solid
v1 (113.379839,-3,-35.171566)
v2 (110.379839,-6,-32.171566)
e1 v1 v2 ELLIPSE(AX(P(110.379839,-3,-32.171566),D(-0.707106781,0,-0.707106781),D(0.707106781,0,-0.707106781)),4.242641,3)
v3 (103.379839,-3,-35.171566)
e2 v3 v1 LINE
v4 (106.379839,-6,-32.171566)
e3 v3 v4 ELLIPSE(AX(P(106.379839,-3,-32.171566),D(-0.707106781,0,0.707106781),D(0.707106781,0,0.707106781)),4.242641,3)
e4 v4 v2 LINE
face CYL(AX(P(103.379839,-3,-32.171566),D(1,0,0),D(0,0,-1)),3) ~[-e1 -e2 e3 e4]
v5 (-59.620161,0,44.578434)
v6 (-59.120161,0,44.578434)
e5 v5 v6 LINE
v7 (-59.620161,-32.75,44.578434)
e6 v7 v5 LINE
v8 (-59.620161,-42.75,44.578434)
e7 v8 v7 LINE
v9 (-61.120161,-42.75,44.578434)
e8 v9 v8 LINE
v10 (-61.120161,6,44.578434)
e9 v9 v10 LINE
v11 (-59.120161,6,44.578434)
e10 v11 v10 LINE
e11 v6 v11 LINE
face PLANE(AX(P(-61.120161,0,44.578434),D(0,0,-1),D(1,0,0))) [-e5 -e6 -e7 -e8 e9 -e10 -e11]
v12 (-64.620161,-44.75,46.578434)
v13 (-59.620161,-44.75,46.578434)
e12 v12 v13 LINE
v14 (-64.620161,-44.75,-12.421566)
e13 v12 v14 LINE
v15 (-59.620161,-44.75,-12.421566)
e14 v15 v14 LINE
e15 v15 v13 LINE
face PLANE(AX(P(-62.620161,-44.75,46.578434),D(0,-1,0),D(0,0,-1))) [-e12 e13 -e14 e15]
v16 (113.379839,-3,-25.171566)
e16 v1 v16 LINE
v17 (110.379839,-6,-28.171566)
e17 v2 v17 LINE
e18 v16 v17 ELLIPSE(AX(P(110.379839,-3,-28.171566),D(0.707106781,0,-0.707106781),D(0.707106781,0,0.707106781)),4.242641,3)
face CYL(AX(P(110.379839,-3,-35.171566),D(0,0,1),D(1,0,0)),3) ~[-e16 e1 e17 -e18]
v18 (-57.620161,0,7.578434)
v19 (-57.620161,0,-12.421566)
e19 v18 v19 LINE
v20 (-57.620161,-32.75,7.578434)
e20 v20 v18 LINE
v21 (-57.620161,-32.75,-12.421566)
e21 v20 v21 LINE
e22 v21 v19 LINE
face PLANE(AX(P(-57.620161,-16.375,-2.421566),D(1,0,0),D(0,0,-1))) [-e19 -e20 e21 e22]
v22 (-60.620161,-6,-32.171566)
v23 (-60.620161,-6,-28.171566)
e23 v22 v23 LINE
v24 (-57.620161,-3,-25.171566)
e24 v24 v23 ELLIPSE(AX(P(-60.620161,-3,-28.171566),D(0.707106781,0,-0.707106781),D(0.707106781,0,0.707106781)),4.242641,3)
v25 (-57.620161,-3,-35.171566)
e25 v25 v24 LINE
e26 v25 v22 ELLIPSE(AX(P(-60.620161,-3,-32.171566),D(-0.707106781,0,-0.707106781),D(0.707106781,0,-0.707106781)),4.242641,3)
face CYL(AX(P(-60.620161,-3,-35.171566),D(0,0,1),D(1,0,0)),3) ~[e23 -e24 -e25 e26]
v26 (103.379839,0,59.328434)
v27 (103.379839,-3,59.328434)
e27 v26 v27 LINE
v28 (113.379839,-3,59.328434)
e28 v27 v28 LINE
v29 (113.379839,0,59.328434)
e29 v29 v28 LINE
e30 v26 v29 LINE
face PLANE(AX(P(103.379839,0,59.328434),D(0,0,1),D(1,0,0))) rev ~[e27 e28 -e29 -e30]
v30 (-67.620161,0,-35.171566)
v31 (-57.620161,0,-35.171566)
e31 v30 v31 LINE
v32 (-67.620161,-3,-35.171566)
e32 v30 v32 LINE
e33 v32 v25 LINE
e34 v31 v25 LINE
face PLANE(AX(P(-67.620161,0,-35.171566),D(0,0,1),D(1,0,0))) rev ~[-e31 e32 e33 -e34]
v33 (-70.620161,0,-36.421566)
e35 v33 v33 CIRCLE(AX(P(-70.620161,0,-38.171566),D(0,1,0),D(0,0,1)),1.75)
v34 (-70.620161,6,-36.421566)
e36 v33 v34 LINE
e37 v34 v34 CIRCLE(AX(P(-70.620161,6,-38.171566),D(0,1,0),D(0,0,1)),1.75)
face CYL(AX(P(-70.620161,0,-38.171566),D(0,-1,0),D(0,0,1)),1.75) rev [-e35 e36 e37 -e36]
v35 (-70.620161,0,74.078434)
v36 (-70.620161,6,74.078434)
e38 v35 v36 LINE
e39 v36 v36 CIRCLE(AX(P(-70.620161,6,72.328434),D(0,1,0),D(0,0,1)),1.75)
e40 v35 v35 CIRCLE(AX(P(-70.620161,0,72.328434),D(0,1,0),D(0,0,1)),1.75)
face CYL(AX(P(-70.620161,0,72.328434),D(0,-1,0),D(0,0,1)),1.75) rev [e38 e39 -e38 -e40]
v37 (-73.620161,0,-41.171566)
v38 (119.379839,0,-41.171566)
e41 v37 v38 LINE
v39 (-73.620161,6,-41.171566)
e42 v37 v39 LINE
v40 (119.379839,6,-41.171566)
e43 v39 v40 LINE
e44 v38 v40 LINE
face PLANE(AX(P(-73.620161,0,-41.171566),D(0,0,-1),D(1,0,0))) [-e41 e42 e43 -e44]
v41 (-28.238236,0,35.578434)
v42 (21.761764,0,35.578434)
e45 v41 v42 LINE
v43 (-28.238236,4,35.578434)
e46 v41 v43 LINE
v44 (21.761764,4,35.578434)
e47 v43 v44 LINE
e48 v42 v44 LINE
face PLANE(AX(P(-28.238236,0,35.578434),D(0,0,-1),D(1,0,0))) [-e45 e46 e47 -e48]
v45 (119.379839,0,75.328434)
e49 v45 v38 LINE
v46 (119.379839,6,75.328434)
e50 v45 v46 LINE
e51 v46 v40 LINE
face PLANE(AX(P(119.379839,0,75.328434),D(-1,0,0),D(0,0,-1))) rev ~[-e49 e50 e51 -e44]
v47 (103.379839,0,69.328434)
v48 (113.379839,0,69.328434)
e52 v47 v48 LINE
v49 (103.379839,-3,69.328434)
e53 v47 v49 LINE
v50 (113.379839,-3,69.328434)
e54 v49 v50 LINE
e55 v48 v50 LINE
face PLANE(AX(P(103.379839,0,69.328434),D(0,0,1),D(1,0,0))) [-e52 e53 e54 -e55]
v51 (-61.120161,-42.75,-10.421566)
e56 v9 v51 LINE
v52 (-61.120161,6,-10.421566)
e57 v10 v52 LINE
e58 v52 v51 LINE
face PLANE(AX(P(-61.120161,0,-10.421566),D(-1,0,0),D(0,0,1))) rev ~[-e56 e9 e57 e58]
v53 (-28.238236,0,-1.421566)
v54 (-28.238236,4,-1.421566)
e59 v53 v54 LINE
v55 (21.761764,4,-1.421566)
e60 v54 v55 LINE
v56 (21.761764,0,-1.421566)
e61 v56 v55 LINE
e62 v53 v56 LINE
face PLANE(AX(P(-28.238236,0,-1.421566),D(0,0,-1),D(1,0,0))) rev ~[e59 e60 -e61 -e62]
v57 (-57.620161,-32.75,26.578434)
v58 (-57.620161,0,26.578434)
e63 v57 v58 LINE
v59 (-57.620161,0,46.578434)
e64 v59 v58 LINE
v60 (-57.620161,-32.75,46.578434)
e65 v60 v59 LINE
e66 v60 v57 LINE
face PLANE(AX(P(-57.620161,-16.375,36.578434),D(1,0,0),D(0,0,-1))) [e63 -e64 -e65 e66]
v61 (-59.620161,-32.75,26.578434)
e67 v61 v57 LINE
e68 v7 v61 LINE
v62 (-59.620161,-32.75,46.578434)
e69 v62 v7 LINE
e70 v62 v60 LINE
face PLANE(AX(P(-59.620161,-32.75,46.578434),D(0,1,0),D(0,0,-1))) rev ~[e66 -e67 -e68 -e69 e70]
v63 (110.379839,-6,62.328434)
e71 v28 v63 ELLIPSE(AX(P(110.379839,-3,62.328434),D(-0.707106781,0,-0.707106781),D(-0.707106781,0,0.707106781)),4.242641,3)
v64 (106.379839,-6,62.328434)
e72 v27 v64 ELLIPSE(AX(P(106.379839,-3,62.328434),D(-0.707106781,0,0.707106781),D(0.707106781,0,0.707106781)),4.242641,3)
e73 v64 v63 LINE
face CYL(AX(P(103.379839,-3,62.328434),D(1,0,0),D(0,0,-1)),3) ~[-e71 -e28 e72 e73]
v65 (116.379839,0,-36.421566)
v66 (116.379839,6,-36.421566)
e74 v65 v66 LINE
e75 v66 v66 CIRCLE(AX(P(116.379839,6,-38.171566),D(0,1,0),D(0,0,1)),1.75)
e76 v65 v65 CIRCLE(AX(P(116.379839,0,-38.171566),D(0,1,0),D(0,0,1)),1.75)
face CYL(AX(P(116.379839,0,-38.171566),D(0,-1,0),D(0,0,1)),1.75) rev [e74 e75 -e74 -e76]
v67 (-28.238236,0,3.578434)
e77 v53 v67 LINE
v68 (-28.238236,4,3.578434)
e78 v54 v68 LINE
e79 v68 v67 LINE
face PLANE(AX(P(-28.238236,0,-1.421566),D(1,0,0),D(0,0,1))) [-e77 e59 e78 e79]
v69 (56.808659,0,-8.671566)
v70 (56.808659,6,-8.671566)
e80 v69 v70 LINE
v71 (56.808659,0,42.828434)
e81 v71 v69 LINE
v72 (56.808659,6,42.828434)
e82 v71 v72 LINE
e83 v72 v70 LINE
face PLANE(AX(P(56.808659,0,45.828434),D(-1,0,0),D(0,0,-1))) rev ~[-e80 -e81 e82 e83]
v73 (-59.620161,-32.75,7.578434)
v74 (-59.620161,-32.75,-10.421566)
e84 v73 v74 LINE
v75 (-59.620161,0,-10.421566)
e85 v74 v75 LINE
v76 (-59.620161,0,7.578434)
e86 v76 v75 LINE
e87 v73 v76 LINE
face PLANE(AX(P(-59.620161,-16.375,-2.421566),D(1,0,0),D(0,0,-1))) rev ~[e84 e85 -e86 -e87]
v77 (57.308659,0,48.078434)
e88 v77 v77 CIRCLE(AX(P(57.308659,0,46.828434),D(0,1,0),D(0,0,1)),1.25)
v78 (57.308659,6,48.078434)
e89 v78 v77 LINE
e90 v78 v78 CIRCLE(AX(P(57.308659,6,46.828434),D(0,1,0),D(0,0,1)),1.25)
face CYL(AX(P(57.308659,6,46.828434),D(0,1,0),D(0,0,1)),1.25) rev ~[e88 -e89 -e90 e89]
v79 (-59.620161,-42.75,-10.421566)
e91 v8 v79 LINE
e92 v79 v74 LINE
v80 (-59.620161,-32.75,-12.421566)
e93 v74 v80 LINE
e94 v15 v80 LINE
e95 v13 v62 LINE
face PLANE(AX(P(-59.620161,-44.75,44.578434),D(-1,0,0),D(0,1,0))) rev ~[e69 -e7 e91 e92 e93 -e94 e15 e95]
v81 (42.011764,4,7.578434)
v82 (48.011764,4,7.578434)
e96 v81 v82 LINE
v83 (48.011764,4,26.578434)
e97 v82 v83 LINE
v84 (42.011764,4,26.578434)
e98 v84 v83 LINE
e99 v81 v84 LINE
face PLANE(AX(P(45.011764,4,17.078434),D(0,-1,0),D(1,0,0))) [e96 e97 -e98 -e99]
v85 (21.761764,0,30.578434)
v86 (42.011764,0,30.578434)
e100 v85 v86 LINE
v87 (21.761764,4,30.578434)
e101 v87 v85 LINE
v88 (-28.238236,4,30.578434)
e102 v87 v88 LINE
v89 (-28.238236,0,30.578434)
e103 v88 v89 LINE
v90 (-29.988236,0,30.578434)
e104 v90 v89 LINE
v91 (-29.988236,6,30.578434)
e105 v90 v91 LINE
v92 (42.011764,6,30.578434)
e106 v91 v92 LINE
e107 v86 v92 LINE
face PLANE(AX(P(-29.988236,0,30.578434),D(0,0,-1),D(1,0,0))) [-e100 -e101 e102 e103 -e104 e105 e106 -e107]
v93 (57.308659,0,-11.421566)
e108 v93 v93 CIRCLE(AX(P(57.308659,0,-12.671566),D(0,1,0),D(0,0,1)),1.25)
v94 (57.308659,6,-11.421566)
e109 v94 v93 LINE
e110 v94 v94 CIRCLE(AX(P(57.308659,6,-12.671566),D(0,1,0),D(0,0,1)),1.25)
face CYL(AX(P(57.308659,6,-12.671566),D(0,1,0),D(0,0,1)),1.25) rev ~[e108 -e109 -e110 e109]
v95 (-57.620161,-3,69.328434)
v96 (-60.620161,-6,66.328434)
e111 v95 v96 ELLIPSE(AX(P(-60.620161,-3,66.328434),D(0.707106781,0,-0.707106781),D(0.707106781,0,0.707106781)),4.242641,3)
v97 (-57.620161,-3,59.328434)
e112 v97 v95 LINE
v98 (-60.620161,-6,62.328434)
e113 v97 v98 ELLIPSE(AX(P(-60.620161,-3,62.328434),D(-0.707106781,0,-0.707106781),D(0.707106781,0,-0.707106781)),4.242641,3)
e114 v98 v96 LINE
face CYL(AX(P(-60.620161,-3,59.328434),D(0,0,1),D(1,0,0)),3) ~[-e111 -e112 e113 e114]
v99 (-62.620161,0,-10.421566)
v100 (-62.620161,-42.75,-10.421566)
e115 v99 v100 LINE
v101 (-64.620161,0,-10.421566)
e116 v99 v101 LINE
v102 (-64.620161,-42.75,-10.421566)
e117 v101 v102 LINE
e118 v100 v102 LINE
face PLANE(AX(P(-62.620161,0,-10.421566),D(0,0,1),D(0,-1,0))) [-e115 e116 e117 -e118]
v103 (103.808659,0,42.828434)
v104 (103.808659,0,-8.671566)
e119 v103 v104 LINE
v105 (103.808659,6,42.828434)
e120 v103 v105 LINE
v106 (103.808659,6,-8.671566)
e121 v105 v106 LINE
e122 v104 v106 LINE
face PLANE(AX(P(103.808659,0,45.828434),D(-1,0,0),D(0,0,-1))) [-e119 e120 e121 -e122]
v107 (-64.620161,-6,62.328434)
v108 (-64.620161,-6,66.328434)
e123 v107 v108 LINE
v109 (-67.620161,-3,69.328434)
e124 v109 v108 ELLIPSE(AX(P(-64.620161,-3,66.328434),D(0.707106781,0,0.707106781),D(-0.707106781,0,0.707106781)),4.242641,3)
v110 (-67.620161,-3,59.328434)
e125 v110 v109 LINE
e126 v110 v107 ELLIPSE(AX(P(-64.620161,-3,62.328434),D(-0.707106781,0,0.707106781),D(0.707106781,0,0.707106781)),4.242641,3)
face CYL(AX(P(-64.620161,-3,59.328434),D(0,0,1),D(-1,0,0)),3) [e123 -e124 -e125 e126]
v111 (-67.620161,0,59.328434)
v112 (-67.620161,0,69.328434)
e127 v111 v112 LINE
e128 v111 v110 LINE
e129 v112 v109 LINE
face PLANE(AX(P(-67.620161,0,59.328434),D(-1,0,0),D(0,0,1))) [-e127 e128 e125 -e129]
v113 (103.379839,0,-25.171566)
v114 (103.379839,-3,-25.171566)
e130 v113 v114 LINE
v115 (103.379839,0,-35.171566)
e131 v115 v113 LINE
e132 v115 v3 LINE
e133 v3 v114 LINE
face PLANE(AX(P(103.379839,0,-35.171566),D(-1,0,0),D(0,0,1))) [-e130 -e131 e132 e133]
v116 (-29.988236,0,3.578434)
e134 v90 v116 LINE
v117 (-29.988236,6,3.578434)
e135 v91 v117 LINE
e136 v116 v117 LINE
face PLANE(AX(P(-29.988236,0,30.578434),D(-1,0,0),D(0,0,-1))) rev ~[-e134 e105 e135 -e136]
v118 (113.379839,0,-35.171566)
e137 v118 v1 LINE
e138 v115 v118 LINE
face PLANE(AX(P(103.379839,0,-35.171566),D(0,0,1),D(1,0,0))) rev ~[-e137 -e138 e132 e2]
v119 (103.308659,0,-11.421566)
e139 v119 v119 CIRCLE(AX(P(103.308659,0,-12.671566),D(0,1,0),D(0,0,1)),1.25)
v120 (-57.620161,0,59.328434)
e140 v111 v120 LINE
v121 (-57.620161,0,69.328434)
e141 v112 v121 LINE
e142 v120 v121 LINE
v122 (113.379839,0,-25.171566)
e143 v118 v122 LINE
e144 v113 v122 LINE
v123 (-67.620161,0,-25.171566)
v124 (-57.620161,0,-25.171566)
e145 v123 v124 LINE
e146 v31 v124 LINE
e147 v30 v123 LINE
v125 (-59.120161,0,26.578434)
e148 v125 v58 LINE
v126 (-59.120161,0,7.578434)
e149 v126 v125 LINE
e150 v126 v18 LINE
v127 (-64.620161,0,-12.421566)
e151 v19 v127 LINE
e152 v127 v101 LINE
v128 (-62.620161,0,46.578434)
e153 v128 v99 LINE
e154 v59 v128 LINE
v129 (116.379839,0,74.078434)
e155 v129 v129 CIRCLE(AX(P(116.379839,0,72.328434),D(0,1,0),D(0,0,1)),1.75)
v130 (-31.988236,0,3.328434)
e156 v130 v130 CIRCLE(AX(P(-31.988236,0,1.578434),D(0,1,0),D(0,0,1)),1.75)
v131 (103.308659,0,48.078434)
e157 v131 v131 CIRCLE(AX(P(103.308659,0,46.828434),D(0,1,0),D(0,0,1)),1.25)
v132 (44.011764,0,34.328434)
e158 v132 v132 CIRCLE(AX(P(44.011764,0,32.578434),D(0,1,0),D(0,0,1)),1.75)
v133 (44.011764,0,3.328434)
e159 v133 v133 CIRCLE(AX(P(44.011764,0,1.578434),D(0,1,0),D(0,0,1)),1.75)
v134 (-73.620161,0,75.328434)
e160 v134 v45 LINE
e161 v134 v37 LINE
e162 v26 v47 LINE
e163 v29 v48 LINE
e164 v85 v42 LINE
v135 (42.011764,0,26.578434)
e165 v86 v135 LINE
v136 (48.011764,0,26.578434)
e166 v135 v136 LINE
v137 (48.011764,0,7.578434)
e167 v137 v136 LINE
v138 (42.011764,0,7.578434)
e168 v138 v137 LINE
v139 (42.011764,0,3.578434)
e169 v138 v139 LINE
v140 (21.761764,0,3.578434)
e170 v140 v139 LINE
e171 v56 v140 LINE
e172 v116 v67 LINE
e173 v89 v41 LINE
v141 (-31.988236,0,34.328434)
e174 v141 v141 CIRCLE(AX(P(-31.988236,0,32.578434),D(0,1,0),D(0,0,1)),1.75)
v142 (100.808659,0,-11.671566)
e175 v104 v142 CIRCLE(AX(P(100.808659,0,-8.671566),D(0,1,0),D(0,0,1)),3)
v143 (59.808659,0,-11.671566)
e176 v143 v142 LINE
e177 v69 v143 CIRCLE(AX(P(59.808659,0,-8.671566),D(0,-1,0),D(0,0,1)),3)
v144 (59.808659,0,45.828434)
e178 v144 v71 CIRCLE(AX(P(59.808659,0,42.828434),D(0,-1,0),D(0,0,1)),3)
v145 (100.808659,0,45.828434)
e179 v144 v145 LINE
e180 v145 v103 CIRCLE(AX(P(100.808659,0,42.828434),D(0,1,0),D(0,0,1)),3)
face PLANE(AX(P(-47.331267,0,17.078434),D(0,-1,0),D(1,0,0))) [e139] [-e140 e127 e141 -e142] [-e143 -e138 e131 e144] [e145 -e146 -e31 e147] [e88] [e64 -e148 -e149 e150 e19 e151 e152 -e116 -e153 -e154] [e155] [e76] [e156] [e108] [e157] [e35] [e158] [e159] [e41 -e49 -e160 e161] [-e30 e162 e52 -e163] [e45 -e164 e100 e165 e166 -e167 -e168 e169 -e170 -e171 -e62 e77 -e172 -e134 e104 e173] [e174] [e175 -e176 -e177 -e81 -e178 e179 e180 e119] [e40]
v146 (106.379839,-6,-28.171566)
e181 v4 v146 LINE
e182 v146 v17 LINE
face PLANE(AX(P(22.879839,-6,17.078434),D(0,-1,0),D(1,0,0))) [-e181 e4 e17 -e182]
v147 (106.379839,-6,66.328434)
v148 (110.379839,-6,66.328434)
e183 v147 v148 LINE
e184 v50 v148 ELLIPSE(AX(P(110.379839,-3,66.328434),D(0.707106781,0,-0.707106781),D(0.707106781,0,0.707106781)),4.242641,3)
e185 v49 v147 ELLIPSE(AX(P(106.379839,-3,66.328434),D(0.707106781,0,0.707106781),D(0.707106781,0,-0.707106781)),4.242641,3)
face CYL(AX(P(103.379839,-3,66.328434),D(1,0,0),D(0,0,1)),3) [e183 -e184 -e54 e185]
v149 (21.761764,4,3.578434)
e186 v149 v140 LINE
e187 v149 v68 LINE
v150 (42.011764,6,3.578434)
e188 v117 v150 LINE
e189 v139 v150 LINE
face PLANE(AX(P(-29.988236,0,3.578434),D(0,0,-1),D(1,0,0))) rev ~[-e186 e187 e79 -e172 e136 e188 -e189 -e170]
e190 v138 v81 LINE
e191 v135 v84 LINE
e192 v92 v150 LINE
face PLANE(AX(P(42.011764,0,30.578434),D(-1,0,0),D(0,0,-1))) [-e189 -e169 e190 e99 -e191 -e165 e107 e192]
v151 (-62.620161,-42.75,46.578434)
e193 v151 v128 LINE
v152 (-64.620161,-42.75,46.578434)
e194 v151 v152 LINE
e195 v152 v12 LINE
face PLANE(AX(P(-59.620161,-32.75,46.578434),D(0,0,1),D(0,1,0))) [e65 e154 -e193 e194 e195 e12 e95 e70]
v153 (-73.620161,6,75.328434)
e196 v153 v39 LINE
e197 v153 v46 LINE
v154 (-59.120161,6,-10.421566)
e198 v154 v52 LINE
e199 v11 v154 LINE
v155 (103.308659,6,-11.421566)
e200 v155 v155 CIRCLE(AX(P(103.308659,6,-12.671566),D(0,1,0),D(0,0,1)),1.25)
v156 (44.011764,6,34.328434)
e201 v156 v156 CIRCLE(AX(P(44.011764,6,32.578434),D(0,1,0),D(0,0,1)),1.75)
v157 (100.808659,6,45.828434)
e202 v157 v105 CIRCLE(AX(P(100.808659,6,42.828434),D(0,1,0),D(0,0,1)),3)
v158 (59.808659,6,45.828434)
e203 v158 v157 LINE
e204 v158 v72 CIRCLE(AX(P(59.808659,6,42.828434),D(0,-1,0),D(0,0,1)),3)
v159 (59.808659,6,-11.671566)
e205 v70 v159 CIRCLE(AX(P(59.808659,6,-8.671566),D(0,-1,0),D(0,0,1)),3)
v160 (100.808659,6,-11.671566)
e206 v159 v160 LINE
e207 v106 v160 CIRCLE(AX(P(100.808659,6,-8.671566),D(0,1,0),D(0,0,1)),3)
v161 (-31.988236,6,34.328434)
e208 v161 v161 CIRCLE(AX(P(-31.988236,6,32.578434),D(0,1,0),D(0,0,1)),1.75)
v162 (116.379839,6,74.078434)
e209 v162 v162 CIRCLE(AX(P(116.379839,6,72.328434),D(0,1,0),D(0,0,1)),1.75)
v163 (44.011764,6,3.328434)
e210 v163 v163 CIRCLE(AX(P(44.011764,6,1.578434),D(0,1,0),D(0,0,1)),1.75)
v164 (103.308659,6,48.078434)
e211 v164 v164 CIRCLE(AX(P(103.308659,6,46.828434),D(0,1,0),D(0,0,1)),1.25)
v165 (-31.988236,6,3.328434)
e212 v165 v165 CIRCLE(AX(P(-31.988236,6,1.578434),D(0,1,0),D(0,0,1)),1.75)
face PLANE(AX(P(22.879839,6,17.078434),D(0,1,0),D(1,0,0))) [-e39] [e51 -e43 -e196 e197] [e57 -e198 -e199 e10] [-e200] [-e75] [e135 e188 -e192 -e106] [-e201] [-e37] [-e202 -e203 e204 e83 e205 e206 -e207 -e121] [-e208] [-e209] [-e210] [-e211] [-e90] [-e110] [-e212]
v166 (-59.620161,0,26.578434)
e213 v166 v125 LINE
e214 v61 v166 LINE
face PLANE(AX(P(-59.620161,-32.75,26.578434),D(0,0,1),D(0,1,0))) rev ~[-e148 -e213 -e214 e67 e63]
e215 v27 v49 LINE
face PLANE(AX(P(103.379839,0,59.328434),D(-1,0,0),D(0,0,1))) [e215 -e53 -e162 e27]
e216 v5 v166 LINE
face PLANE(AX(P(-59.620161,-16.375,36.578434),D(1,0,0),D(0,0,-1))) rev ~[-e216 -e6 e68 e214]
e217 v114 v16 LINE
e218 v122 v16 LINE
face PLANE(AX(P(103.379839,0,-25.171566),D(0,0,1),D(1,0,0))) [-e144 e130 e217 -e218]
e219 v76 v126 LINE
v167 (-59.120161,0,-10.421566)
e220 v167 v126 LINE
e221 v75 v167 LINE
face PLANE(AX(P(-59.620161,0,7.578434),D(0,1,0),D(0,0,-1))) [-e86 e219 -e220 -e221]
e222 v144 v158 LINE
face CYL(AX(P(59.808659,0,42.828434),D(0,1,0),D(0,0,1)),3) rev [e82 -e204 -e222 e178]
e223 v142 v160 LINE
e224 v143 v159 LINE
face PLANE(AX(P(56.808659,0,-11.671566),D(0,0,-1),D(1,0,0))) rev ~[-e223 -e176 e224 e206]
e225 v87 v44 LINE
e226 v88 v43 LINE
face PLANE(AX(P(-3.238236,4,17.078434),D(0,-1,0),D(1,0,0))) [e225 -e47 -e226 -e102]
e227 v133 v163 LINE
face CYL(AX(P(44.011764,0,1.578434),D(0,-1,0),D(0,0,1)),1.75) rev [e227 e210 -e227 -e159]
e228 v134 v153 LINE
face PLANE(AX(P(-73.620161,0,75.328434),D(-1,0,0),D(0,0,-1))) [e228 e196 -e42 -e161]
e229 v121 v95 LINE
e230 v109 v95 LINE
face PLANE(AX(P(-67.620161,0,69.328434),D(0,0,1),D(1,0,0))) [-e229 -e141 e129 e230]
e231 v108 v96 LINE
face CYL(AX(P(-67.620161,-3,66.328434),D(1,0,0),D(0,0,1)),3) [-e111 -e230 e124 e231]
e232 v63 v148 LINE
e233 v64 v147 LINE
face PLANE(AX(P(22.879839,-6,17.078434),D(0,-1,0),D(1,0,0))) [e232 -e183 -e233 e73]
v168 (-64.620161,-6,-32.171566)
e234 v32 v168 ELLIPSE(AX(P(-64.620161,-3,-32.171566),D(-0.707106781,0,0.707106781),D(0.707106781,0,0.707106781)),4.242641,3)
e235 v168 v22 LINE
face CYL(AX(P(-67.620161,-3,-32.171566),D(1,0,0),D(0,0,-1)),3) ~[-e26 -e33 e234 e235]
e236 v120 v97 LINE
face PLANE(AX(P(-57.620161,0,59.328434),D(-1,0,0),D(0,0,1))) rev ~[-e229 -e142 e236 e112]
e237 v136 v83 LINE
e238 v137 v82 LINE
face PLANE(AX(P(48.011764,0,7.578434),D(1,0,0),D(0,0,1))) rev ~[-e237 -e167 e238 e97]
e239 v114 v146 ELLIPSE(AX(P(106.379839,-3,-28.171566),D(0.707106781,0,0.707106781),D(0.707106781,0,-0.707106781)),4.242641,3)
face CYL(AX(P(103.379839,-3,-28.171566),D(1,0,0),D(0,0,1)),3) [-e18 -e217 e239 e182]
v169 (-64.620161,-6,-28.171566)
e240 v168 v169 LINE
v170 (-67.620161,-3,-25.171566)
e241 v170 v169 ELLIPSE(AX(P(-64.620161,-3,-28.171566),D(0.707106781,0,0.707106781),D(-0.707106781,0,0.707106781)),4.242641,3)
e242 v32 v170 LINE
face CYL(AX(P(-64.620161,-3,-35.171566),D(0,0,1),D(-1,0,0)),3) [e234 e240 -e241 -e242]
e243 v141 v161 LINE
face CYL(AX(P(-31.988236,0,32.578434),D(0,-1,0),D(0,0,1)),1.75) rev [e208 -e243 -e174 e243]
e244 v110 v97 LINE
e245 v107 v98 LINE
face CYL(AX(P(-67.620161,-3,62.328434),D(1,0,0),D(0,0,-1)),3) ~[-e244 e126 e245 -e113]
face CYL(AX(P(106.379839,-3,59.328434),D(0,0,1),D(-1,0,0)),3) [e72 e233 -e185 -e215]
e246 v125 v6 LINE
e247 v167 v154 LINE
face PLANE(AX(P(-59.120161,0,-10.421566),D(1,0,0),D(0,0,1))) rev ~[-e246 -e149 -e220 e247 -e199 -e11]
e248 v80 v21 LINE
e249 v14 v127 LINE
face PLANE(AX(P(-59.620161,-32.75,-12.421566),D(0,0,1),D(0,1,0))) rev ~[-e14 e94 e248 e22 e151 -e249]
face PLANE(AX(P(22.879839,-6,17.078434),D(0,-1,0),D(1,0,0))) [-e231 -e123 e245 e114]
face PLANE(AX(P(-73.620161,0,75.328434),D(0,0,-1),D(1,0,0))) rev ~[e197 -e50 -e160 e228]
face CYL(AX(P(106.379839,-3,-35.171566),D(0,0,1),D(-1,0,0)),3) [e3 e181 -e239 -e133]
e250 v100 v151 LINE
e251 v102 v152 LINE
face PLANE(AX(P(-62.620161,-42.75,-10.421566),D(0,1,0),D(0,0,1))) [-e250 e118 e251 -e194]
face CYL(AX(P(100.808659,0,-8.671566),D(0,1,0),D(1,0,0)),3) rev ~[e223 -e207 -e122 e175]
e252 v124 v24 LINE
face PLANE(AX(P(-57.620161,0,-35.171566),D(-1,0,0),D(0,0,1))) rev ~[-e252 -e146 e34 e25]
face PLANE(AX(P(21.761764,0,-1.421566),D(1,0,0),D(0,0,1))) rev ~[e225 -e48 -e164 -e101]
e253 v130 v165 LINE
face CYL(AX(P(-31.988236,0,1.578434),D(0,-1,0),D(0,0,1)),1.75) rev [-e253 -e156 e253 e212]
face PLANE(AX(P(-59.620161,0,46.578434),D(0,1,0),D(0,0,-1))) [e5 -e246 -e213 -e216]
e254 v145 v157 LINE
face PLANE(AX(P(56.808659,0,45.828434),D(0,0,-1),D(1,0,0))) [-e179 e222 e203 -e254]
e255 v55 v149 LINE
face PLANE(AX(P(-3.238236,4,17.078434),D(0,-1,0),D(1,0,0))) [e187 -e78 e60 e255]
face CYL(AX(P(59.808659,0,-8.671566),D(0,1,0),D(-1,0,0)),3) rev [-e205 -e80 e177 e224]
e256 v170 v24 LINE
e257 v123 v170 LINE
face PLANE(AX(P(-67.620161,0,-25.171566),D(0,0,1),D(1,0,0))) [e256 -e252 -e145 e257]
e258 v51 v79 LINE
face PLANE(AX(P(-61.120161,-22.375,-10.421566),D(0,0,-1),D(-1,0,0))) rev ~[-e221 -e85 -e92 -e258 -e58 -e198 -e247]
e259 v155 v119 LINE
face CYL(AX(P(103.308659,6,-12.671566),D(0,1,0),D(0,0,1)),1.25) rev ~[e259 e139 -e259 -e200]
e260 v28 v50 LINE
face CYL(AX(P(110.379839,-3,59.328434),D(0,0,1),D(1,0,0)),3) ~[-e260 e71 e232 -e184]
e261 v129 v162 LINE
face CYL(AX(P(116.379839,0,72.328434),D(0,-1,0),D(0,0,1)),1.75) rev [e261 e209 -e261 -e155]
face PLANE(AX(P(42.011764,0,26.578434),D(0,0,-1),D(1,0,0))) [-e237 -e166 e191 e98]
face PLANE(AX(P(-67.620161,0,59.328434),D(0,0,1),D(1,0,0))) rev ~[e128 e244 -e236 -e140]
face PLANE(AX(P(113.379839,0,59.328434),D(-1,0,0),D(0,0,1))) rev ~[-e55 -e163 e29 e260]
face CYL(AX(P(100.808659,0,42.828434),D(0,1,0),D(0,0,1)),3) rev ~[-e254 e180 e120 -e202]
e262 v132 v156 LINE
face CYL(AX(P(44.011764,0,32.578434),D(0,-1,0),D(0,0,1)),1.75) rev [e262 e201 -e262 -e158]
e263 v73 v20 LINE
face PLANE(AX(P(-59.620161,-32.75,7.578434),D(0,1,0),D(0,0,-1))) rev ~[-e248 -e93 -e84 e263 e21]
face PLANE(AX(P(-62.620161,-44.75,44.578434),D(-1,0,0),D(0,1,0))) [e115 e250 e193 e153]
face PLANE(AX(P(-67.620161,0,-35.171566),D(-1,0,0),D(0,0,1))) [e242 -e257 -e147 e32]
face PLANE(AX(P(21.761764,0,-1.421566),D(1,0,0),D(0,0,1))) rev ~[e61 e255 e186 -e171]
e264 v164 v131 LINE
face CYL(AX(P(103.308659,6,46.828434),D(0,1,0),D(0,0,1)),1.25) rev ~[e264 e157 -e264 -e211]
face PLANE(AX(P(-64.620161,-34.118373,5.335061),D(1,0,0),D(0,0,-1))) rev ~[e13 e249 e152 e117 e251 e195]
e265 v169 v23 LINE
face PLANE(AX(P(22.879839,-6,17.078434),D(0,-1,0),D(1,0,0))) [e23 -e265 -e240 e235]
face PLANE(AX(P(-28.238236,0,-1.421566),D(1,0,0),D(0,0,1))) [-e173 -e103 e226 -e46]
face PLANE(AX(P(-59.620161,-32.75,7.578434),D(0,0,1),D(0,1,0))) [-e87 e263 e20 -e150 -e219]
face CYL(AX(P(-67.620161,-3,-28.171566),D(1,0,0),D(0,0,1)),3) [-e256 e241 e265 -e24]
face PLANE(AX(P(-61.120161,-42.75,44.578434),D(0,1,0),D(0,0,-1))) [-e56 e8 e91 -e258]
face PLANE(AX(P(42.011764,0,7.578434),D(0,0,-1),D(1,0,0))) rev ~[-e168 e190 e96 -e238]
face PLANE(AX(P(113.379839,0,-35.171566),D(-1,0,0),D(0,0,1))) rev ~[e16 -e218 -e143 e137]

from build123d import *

# Parameters (mm, degrees)
SKETCH1_W            = 193
SKETCH1_H            = 116.5
SKETCH1_R            = 1.75
SKETCH1_W_2          = 47
SKETCH1_H_2          = 57.5
SKETCH1_W_3          = 72
SKETCH1_H_3          = 27
SKETCH1_W_4          = 2
SKETCH1_H_4          = 55
BOSS_EXTRUDE1_DEPTH  = 6
SKETCH3_W            = 10
SKETCH3_H            = 10
BOSS_EXTRUDE3_DEPTH  = 10
FILLET1_R            = 3
SKETCH5_W            = 2
SKETCH5_H            = 55
BOSS_EXTRUDE4_DEPTH  = 6
SKETCH6_W            = 181
SKETCH6_H            = 104.5
CUT_EXTRUDE1_DEPTH   = 4
SKETCH7_W            = 1.5
SKETCH7_H            = 55
BOSS_EXTRUDE5_DEPTH  = 44.75
SKETCH8_W            = 2
SKETCH8_H            = 55
CUT_EXTRUDE2_DEPTH   = 42.25
SKETCH10_W           = 6
SKETCH10_H           = 19
CUT_EXTRUDE3_DEPTH   = 4
FILLET3_R            = 3
SKETCH12_W           = 55
SKETCH12_H           = 2
BOSS_EXTRUDE6_DEPTH  = 1.5
SKETCH14_W           = 3
SKETCH14_H           = 44.75
BOSS_EXTRUDE7_DEPTH  = 2
SKETCH15_W           = 3
SKETCH15_H           = 44.75
BOSS_EXTRUDE8_DEPTH  = 2
BOSS_EXTRUDE9_DEPTH  = 2
SKETCH17_R           = 1.25
CUT_EXTRUDE5_DEPTH   = 6
SKETCH18_W           = 20
SKETCH18_H           = 32.75
BOSS_EXTRUDE10_DEPTH = 2
SKETCH19_W           = 50
SKETCH19_H           = 37
CUT_EXTRUDE7_DEPTH   = 4


with BuildPart() as part:
    # Sketch1 → Boss-Extrude1 (new body)
    with BuildSketch(Plane(origin=(0, 0, 0), x_dir=(1, 0, 0), z_dir=(0, 1, 0))):
        with Locations((22.87983871, -17.078434096)):
            Rectangle(SKETCH1_W, SKETCH1_H)
        with Locations(Location((-31.988235573, -1.578434096, 0), (0, 0, 270))):
            Circle(SKETCH1_R, mode=Mode.SUBTRACT)
        with Locations(Location((-31.988235573, -32.578434096, 0), (0, 0, 270))):
            Circle(SKETCH1_R, mode=Mode.SUBTRACT)
        with Locations(Location((44.011764427, -1.578434096, 0), (0, 0, 270))):
            Circle(SKETCH1_R, mode=Mode.SUBTRACT)
        with Locations(Location((44.011764427, -32.578434096, 0), (0, 0, 270))):
            Circle(SKETCH1_R, mode=Mode.SUBTRACT)
        with Locations(Location((-70.62016129, -72.328434096, 0), (0, 0, 270))):
            Circle(SKETCH1_R, mode=Mode.SUBTRACT)
        with Locations(Location((-70.62016129, 38.171565904, 0), (0, 0, 270))):
            Circle(SKETCH1_R, mode=Mode.SUBTRACT)
        with Locations(Location((116.37983871, -72.328434096, 0), (0, 0, 270))):
            Circle(SKETCH1_R, mode=Mode.SUBTRACT)
        with Locations(Location((116.37983871, 38.171565904, 0), (0, 0, 270))):
            Circle(SKETCH1_R, mode=Mode.SUBTRACT)
        with Locations((80.308659112, -17.078434096)):
            Rectangle(SKETCH1_W_2, SKETCH1_H_2, mode=Mode.SUBTRACT)
        with Locations((6.011764427, -17.078434096)):
            Rectangle(SKETCH1_W_3, SKETCH1_H_3, mode=Mode.SUBTRACT)
        with Locations((-47.331266899, -17.078434096)):
            Rectangle(SKETCH1_W_4, SKETCH1_H_4, mode=Mode.SUBTRACT)
    extrude(amount=BOSS_EXTRUDE1_DEPTH)

    # Sketch3 → Boss-Extrude3 (add)
    with BuildSketch(Plane.XZ):
        with Locations((-62.62016129, 64.328434096)):
            Rectangle(SKETCH3_W, SKETCH3_H)
        with Locations((-62.62016129, -30.171565904)):
            Rectangle(SKETCH3_W, SKETCH3_H)
        with Locations((108.37983871, -30.171565904)):
            Rectangle(SKETCH3_W, SKETCH3_H)
        with Locations((108.37983871, 64.328434096)):
            Rectangle(SKETCH3_W, SKETCH3_H)
    extrude(amount=BOSS_EXTRUDE3_DEPTH)

    # Fillet1
    fillet1_edges = [part.edges().sort_by_distance(p)[0] for p in [
        (56.808659112, 3, -11.671565904),
        (56.808659112, 3, 45.828434096),
        (103.808659112, 3, 45.828434096),
        (103.808659112, 3, -11.671565904),
    ]]
    fillet(fillet1_edges, radius=FILLET1_R)

    # Sketch5 → Boss-Extrude4 (add)
    with BuildSketch(Plane.XZ):
        with Locations((-47.331266899, 17.078434096)):
            Rectangle(SKETCH5_W, SKETCH5_H)
    extrude(amount=-BOSS_EXTRUDE4_DEPTH)

    # Sketch6 → Cut-Extrude1 (cut)
    with BuildSketch(Plane.XZ.offset(10)):
        with Locations((22.87983871, 17.078434096)):
            Rectangle(SKETCH6_W, SKETCH6_H)
    extrude(amount=-CUT_EXTRUDE1_DEPTH, mode=Mode.SUBTRACT)

    # Sketch7 → Boss-Extrude5 (add)
    with BuildSketch(Plane.XZ):
        with Locations((-61.87016129, 17.078434096)):
            Rectangle(SKETCH7_W, SKETCH7_H)
    extrude(amount=BOSS_EXTRUDE5_DEPTH)

    # Sketch8 → Cut-Extrude2 (cut)
    with BuildSketch(Plane.XZ):
        with Locations((-60.12016129, 17.078434096)):
            Rectangle(SKETCH8_W, SKETCH8_H)
    extrude(amount=-CUT_EXTRUDE2_DEPTH, mode=Mode.SUBTRACT)

    # Sketch10 → Cut-Extrude3 (cut)
    with BuildSketch(Plane.XZ):
        with Locations((45.011764427, 17.078434096)):
            Rectangle(SKETCH10_W, SKETCH10_H)
    extrude(amount=-CUT_EXTRUDE3_DEPTH, mode=Mode.SUBTRACT)

    # Fillet3
    fillet3_edges = [part.edges().sort_by_distance(p)[0] for p in [
        (-67.62016129, -6, 64.328434096),
        (-67.62016129, -6, -30.171565904),
        (-62.62016129, -6, -35.171565904),
        (108.37983871, -6, -35.171565904),
        (-62.62016129, -6, 69.328434096),
        (108.37983871, -6, 69.328434096),
        (113.37983871, -6, -30.171565904),
        (113.37983871, -6, 64.328434096),
        (-62.62016129, -6, 59.328434096),
        (-57.62016129, -6, 64.328434096),
        (103.37983871, -6, 64.328434096),
        (108.37983871, -6, 59.328434096),
        (108.37983871, -6, -25.171565904),
        (103.37983871, -6, -30.171565904),
        (-57.62016129, -6, -30.171565904),
        (-62.62016129, -6, -25.171565904),
    ]]
    fillet(fillet3_edges, radius=FILLET3_R)

    # Sketch12 → Boss-Extrude6 (add)
    with BuildSketch(Plane(origin=(-61.12016129, 0, 0), x_dir=(0, 0, -1), z_dir=(1, 0, 0))):
        with Locations((-17.078434096, -43.75)):
            Rectangle(SKETCH12_W, SKETCH12_H)
    extrude(amount=BOSS_EXTRUDE6_DEPTH)

    # Sketch14 → Boss-Extrude7 (add)
    with BuildSketch(Plane(origin=(0, 0, -10.421565904), x_dir=(-1, 0, 0), z_dir=(0, 0, -1))):
        with Locations((61.12016129, -22.375)):
            Rectangle(SKETCH14_W, SKETCH14_H)
    extrude(amount=BOSS_EXTRUDE7_DEPTH)

    # Sketch15 → Boss-Extrude8 (add)
    with BuildSketch(Plane.XY.offset(44.578434096)):
        with Locations((-61.12016129, -22.375)):
            Rectangle(SKETCH15_W, SKETCH15_H)
    extrude(amount=BOSS_EXTRUDE8_DEPTH)

    # Sketch16 → Boss-Extrude9 (add)
    with BuildSketch(Plane.ZY.offset(62.62016129)):
        Polygon((-10.421565904, 0), (-10.421565904, -42.75), (46.578434096, -42.75), (46.578434096, -44.75), (-12.421565904, -44.75), (-12.421565904, 0), align=None)
    extrude(amount=BOSS_EXTRUDE9_DEPTH)

    # Sketch17 → Cut-Extrude5 (cut)
    with BuildSketch(Plane(origin=(0, 6, 0), x_dir=(1, 0, 0), z_dir=(0, 1, 0))):
        with Locations(Location((57.308659112, 12.671565904, 0), (0, 0, 270))):
            Circle(SKETCH17_R)
        with Locations(Location((103.308659112, 12.671565904, 0), (0, 0, 270))):
            Circle(SKETCH17_R)
        with Locations(Location((57.308659112, -46.828434096, 0), (0, 0, 270))):
            Circle(SKETCH17_R)
        with Locations(Location((103.308659112, -46.828434096, 0), (0, 0, 270))):
            Circle(SKETCH17_R)
    extrude(amount=-CUT_EXTRUDE5_DEPTH, mode=Mode.SUBTRACT)

    # Sketch18 → Boss-Extrude10 (add)
    with BuildSketch(Plane(origin=(-59.62016129, 0, 0), x_dir=(0, 0, -1), z_dir=(1, 0, 0))):
        with Locations((-36.578434096, -16.375)):
            Rectangle(SKETCH18_W, SKETCH18_H)
        with Locations((2.421565904, -16.375)):
            Rectangle(SKETCH18_W, SKETCH18_H)
    extrude(amount=BOSS_EXTRUDE10_DEPTH)

    # Sketch19 → Cut-Extrude7 (cut)
    with BuildSketch(Plane.XZ):
        with Locations((-3.238235573, 17.078434096)):
            Rectangle(SKETCH19_W, SKETCH19_H)
    extrude(amount=-CUT_EXTRUDE7_DEPTH, mode=Mode.SUBTRACT)


solid = part.part
